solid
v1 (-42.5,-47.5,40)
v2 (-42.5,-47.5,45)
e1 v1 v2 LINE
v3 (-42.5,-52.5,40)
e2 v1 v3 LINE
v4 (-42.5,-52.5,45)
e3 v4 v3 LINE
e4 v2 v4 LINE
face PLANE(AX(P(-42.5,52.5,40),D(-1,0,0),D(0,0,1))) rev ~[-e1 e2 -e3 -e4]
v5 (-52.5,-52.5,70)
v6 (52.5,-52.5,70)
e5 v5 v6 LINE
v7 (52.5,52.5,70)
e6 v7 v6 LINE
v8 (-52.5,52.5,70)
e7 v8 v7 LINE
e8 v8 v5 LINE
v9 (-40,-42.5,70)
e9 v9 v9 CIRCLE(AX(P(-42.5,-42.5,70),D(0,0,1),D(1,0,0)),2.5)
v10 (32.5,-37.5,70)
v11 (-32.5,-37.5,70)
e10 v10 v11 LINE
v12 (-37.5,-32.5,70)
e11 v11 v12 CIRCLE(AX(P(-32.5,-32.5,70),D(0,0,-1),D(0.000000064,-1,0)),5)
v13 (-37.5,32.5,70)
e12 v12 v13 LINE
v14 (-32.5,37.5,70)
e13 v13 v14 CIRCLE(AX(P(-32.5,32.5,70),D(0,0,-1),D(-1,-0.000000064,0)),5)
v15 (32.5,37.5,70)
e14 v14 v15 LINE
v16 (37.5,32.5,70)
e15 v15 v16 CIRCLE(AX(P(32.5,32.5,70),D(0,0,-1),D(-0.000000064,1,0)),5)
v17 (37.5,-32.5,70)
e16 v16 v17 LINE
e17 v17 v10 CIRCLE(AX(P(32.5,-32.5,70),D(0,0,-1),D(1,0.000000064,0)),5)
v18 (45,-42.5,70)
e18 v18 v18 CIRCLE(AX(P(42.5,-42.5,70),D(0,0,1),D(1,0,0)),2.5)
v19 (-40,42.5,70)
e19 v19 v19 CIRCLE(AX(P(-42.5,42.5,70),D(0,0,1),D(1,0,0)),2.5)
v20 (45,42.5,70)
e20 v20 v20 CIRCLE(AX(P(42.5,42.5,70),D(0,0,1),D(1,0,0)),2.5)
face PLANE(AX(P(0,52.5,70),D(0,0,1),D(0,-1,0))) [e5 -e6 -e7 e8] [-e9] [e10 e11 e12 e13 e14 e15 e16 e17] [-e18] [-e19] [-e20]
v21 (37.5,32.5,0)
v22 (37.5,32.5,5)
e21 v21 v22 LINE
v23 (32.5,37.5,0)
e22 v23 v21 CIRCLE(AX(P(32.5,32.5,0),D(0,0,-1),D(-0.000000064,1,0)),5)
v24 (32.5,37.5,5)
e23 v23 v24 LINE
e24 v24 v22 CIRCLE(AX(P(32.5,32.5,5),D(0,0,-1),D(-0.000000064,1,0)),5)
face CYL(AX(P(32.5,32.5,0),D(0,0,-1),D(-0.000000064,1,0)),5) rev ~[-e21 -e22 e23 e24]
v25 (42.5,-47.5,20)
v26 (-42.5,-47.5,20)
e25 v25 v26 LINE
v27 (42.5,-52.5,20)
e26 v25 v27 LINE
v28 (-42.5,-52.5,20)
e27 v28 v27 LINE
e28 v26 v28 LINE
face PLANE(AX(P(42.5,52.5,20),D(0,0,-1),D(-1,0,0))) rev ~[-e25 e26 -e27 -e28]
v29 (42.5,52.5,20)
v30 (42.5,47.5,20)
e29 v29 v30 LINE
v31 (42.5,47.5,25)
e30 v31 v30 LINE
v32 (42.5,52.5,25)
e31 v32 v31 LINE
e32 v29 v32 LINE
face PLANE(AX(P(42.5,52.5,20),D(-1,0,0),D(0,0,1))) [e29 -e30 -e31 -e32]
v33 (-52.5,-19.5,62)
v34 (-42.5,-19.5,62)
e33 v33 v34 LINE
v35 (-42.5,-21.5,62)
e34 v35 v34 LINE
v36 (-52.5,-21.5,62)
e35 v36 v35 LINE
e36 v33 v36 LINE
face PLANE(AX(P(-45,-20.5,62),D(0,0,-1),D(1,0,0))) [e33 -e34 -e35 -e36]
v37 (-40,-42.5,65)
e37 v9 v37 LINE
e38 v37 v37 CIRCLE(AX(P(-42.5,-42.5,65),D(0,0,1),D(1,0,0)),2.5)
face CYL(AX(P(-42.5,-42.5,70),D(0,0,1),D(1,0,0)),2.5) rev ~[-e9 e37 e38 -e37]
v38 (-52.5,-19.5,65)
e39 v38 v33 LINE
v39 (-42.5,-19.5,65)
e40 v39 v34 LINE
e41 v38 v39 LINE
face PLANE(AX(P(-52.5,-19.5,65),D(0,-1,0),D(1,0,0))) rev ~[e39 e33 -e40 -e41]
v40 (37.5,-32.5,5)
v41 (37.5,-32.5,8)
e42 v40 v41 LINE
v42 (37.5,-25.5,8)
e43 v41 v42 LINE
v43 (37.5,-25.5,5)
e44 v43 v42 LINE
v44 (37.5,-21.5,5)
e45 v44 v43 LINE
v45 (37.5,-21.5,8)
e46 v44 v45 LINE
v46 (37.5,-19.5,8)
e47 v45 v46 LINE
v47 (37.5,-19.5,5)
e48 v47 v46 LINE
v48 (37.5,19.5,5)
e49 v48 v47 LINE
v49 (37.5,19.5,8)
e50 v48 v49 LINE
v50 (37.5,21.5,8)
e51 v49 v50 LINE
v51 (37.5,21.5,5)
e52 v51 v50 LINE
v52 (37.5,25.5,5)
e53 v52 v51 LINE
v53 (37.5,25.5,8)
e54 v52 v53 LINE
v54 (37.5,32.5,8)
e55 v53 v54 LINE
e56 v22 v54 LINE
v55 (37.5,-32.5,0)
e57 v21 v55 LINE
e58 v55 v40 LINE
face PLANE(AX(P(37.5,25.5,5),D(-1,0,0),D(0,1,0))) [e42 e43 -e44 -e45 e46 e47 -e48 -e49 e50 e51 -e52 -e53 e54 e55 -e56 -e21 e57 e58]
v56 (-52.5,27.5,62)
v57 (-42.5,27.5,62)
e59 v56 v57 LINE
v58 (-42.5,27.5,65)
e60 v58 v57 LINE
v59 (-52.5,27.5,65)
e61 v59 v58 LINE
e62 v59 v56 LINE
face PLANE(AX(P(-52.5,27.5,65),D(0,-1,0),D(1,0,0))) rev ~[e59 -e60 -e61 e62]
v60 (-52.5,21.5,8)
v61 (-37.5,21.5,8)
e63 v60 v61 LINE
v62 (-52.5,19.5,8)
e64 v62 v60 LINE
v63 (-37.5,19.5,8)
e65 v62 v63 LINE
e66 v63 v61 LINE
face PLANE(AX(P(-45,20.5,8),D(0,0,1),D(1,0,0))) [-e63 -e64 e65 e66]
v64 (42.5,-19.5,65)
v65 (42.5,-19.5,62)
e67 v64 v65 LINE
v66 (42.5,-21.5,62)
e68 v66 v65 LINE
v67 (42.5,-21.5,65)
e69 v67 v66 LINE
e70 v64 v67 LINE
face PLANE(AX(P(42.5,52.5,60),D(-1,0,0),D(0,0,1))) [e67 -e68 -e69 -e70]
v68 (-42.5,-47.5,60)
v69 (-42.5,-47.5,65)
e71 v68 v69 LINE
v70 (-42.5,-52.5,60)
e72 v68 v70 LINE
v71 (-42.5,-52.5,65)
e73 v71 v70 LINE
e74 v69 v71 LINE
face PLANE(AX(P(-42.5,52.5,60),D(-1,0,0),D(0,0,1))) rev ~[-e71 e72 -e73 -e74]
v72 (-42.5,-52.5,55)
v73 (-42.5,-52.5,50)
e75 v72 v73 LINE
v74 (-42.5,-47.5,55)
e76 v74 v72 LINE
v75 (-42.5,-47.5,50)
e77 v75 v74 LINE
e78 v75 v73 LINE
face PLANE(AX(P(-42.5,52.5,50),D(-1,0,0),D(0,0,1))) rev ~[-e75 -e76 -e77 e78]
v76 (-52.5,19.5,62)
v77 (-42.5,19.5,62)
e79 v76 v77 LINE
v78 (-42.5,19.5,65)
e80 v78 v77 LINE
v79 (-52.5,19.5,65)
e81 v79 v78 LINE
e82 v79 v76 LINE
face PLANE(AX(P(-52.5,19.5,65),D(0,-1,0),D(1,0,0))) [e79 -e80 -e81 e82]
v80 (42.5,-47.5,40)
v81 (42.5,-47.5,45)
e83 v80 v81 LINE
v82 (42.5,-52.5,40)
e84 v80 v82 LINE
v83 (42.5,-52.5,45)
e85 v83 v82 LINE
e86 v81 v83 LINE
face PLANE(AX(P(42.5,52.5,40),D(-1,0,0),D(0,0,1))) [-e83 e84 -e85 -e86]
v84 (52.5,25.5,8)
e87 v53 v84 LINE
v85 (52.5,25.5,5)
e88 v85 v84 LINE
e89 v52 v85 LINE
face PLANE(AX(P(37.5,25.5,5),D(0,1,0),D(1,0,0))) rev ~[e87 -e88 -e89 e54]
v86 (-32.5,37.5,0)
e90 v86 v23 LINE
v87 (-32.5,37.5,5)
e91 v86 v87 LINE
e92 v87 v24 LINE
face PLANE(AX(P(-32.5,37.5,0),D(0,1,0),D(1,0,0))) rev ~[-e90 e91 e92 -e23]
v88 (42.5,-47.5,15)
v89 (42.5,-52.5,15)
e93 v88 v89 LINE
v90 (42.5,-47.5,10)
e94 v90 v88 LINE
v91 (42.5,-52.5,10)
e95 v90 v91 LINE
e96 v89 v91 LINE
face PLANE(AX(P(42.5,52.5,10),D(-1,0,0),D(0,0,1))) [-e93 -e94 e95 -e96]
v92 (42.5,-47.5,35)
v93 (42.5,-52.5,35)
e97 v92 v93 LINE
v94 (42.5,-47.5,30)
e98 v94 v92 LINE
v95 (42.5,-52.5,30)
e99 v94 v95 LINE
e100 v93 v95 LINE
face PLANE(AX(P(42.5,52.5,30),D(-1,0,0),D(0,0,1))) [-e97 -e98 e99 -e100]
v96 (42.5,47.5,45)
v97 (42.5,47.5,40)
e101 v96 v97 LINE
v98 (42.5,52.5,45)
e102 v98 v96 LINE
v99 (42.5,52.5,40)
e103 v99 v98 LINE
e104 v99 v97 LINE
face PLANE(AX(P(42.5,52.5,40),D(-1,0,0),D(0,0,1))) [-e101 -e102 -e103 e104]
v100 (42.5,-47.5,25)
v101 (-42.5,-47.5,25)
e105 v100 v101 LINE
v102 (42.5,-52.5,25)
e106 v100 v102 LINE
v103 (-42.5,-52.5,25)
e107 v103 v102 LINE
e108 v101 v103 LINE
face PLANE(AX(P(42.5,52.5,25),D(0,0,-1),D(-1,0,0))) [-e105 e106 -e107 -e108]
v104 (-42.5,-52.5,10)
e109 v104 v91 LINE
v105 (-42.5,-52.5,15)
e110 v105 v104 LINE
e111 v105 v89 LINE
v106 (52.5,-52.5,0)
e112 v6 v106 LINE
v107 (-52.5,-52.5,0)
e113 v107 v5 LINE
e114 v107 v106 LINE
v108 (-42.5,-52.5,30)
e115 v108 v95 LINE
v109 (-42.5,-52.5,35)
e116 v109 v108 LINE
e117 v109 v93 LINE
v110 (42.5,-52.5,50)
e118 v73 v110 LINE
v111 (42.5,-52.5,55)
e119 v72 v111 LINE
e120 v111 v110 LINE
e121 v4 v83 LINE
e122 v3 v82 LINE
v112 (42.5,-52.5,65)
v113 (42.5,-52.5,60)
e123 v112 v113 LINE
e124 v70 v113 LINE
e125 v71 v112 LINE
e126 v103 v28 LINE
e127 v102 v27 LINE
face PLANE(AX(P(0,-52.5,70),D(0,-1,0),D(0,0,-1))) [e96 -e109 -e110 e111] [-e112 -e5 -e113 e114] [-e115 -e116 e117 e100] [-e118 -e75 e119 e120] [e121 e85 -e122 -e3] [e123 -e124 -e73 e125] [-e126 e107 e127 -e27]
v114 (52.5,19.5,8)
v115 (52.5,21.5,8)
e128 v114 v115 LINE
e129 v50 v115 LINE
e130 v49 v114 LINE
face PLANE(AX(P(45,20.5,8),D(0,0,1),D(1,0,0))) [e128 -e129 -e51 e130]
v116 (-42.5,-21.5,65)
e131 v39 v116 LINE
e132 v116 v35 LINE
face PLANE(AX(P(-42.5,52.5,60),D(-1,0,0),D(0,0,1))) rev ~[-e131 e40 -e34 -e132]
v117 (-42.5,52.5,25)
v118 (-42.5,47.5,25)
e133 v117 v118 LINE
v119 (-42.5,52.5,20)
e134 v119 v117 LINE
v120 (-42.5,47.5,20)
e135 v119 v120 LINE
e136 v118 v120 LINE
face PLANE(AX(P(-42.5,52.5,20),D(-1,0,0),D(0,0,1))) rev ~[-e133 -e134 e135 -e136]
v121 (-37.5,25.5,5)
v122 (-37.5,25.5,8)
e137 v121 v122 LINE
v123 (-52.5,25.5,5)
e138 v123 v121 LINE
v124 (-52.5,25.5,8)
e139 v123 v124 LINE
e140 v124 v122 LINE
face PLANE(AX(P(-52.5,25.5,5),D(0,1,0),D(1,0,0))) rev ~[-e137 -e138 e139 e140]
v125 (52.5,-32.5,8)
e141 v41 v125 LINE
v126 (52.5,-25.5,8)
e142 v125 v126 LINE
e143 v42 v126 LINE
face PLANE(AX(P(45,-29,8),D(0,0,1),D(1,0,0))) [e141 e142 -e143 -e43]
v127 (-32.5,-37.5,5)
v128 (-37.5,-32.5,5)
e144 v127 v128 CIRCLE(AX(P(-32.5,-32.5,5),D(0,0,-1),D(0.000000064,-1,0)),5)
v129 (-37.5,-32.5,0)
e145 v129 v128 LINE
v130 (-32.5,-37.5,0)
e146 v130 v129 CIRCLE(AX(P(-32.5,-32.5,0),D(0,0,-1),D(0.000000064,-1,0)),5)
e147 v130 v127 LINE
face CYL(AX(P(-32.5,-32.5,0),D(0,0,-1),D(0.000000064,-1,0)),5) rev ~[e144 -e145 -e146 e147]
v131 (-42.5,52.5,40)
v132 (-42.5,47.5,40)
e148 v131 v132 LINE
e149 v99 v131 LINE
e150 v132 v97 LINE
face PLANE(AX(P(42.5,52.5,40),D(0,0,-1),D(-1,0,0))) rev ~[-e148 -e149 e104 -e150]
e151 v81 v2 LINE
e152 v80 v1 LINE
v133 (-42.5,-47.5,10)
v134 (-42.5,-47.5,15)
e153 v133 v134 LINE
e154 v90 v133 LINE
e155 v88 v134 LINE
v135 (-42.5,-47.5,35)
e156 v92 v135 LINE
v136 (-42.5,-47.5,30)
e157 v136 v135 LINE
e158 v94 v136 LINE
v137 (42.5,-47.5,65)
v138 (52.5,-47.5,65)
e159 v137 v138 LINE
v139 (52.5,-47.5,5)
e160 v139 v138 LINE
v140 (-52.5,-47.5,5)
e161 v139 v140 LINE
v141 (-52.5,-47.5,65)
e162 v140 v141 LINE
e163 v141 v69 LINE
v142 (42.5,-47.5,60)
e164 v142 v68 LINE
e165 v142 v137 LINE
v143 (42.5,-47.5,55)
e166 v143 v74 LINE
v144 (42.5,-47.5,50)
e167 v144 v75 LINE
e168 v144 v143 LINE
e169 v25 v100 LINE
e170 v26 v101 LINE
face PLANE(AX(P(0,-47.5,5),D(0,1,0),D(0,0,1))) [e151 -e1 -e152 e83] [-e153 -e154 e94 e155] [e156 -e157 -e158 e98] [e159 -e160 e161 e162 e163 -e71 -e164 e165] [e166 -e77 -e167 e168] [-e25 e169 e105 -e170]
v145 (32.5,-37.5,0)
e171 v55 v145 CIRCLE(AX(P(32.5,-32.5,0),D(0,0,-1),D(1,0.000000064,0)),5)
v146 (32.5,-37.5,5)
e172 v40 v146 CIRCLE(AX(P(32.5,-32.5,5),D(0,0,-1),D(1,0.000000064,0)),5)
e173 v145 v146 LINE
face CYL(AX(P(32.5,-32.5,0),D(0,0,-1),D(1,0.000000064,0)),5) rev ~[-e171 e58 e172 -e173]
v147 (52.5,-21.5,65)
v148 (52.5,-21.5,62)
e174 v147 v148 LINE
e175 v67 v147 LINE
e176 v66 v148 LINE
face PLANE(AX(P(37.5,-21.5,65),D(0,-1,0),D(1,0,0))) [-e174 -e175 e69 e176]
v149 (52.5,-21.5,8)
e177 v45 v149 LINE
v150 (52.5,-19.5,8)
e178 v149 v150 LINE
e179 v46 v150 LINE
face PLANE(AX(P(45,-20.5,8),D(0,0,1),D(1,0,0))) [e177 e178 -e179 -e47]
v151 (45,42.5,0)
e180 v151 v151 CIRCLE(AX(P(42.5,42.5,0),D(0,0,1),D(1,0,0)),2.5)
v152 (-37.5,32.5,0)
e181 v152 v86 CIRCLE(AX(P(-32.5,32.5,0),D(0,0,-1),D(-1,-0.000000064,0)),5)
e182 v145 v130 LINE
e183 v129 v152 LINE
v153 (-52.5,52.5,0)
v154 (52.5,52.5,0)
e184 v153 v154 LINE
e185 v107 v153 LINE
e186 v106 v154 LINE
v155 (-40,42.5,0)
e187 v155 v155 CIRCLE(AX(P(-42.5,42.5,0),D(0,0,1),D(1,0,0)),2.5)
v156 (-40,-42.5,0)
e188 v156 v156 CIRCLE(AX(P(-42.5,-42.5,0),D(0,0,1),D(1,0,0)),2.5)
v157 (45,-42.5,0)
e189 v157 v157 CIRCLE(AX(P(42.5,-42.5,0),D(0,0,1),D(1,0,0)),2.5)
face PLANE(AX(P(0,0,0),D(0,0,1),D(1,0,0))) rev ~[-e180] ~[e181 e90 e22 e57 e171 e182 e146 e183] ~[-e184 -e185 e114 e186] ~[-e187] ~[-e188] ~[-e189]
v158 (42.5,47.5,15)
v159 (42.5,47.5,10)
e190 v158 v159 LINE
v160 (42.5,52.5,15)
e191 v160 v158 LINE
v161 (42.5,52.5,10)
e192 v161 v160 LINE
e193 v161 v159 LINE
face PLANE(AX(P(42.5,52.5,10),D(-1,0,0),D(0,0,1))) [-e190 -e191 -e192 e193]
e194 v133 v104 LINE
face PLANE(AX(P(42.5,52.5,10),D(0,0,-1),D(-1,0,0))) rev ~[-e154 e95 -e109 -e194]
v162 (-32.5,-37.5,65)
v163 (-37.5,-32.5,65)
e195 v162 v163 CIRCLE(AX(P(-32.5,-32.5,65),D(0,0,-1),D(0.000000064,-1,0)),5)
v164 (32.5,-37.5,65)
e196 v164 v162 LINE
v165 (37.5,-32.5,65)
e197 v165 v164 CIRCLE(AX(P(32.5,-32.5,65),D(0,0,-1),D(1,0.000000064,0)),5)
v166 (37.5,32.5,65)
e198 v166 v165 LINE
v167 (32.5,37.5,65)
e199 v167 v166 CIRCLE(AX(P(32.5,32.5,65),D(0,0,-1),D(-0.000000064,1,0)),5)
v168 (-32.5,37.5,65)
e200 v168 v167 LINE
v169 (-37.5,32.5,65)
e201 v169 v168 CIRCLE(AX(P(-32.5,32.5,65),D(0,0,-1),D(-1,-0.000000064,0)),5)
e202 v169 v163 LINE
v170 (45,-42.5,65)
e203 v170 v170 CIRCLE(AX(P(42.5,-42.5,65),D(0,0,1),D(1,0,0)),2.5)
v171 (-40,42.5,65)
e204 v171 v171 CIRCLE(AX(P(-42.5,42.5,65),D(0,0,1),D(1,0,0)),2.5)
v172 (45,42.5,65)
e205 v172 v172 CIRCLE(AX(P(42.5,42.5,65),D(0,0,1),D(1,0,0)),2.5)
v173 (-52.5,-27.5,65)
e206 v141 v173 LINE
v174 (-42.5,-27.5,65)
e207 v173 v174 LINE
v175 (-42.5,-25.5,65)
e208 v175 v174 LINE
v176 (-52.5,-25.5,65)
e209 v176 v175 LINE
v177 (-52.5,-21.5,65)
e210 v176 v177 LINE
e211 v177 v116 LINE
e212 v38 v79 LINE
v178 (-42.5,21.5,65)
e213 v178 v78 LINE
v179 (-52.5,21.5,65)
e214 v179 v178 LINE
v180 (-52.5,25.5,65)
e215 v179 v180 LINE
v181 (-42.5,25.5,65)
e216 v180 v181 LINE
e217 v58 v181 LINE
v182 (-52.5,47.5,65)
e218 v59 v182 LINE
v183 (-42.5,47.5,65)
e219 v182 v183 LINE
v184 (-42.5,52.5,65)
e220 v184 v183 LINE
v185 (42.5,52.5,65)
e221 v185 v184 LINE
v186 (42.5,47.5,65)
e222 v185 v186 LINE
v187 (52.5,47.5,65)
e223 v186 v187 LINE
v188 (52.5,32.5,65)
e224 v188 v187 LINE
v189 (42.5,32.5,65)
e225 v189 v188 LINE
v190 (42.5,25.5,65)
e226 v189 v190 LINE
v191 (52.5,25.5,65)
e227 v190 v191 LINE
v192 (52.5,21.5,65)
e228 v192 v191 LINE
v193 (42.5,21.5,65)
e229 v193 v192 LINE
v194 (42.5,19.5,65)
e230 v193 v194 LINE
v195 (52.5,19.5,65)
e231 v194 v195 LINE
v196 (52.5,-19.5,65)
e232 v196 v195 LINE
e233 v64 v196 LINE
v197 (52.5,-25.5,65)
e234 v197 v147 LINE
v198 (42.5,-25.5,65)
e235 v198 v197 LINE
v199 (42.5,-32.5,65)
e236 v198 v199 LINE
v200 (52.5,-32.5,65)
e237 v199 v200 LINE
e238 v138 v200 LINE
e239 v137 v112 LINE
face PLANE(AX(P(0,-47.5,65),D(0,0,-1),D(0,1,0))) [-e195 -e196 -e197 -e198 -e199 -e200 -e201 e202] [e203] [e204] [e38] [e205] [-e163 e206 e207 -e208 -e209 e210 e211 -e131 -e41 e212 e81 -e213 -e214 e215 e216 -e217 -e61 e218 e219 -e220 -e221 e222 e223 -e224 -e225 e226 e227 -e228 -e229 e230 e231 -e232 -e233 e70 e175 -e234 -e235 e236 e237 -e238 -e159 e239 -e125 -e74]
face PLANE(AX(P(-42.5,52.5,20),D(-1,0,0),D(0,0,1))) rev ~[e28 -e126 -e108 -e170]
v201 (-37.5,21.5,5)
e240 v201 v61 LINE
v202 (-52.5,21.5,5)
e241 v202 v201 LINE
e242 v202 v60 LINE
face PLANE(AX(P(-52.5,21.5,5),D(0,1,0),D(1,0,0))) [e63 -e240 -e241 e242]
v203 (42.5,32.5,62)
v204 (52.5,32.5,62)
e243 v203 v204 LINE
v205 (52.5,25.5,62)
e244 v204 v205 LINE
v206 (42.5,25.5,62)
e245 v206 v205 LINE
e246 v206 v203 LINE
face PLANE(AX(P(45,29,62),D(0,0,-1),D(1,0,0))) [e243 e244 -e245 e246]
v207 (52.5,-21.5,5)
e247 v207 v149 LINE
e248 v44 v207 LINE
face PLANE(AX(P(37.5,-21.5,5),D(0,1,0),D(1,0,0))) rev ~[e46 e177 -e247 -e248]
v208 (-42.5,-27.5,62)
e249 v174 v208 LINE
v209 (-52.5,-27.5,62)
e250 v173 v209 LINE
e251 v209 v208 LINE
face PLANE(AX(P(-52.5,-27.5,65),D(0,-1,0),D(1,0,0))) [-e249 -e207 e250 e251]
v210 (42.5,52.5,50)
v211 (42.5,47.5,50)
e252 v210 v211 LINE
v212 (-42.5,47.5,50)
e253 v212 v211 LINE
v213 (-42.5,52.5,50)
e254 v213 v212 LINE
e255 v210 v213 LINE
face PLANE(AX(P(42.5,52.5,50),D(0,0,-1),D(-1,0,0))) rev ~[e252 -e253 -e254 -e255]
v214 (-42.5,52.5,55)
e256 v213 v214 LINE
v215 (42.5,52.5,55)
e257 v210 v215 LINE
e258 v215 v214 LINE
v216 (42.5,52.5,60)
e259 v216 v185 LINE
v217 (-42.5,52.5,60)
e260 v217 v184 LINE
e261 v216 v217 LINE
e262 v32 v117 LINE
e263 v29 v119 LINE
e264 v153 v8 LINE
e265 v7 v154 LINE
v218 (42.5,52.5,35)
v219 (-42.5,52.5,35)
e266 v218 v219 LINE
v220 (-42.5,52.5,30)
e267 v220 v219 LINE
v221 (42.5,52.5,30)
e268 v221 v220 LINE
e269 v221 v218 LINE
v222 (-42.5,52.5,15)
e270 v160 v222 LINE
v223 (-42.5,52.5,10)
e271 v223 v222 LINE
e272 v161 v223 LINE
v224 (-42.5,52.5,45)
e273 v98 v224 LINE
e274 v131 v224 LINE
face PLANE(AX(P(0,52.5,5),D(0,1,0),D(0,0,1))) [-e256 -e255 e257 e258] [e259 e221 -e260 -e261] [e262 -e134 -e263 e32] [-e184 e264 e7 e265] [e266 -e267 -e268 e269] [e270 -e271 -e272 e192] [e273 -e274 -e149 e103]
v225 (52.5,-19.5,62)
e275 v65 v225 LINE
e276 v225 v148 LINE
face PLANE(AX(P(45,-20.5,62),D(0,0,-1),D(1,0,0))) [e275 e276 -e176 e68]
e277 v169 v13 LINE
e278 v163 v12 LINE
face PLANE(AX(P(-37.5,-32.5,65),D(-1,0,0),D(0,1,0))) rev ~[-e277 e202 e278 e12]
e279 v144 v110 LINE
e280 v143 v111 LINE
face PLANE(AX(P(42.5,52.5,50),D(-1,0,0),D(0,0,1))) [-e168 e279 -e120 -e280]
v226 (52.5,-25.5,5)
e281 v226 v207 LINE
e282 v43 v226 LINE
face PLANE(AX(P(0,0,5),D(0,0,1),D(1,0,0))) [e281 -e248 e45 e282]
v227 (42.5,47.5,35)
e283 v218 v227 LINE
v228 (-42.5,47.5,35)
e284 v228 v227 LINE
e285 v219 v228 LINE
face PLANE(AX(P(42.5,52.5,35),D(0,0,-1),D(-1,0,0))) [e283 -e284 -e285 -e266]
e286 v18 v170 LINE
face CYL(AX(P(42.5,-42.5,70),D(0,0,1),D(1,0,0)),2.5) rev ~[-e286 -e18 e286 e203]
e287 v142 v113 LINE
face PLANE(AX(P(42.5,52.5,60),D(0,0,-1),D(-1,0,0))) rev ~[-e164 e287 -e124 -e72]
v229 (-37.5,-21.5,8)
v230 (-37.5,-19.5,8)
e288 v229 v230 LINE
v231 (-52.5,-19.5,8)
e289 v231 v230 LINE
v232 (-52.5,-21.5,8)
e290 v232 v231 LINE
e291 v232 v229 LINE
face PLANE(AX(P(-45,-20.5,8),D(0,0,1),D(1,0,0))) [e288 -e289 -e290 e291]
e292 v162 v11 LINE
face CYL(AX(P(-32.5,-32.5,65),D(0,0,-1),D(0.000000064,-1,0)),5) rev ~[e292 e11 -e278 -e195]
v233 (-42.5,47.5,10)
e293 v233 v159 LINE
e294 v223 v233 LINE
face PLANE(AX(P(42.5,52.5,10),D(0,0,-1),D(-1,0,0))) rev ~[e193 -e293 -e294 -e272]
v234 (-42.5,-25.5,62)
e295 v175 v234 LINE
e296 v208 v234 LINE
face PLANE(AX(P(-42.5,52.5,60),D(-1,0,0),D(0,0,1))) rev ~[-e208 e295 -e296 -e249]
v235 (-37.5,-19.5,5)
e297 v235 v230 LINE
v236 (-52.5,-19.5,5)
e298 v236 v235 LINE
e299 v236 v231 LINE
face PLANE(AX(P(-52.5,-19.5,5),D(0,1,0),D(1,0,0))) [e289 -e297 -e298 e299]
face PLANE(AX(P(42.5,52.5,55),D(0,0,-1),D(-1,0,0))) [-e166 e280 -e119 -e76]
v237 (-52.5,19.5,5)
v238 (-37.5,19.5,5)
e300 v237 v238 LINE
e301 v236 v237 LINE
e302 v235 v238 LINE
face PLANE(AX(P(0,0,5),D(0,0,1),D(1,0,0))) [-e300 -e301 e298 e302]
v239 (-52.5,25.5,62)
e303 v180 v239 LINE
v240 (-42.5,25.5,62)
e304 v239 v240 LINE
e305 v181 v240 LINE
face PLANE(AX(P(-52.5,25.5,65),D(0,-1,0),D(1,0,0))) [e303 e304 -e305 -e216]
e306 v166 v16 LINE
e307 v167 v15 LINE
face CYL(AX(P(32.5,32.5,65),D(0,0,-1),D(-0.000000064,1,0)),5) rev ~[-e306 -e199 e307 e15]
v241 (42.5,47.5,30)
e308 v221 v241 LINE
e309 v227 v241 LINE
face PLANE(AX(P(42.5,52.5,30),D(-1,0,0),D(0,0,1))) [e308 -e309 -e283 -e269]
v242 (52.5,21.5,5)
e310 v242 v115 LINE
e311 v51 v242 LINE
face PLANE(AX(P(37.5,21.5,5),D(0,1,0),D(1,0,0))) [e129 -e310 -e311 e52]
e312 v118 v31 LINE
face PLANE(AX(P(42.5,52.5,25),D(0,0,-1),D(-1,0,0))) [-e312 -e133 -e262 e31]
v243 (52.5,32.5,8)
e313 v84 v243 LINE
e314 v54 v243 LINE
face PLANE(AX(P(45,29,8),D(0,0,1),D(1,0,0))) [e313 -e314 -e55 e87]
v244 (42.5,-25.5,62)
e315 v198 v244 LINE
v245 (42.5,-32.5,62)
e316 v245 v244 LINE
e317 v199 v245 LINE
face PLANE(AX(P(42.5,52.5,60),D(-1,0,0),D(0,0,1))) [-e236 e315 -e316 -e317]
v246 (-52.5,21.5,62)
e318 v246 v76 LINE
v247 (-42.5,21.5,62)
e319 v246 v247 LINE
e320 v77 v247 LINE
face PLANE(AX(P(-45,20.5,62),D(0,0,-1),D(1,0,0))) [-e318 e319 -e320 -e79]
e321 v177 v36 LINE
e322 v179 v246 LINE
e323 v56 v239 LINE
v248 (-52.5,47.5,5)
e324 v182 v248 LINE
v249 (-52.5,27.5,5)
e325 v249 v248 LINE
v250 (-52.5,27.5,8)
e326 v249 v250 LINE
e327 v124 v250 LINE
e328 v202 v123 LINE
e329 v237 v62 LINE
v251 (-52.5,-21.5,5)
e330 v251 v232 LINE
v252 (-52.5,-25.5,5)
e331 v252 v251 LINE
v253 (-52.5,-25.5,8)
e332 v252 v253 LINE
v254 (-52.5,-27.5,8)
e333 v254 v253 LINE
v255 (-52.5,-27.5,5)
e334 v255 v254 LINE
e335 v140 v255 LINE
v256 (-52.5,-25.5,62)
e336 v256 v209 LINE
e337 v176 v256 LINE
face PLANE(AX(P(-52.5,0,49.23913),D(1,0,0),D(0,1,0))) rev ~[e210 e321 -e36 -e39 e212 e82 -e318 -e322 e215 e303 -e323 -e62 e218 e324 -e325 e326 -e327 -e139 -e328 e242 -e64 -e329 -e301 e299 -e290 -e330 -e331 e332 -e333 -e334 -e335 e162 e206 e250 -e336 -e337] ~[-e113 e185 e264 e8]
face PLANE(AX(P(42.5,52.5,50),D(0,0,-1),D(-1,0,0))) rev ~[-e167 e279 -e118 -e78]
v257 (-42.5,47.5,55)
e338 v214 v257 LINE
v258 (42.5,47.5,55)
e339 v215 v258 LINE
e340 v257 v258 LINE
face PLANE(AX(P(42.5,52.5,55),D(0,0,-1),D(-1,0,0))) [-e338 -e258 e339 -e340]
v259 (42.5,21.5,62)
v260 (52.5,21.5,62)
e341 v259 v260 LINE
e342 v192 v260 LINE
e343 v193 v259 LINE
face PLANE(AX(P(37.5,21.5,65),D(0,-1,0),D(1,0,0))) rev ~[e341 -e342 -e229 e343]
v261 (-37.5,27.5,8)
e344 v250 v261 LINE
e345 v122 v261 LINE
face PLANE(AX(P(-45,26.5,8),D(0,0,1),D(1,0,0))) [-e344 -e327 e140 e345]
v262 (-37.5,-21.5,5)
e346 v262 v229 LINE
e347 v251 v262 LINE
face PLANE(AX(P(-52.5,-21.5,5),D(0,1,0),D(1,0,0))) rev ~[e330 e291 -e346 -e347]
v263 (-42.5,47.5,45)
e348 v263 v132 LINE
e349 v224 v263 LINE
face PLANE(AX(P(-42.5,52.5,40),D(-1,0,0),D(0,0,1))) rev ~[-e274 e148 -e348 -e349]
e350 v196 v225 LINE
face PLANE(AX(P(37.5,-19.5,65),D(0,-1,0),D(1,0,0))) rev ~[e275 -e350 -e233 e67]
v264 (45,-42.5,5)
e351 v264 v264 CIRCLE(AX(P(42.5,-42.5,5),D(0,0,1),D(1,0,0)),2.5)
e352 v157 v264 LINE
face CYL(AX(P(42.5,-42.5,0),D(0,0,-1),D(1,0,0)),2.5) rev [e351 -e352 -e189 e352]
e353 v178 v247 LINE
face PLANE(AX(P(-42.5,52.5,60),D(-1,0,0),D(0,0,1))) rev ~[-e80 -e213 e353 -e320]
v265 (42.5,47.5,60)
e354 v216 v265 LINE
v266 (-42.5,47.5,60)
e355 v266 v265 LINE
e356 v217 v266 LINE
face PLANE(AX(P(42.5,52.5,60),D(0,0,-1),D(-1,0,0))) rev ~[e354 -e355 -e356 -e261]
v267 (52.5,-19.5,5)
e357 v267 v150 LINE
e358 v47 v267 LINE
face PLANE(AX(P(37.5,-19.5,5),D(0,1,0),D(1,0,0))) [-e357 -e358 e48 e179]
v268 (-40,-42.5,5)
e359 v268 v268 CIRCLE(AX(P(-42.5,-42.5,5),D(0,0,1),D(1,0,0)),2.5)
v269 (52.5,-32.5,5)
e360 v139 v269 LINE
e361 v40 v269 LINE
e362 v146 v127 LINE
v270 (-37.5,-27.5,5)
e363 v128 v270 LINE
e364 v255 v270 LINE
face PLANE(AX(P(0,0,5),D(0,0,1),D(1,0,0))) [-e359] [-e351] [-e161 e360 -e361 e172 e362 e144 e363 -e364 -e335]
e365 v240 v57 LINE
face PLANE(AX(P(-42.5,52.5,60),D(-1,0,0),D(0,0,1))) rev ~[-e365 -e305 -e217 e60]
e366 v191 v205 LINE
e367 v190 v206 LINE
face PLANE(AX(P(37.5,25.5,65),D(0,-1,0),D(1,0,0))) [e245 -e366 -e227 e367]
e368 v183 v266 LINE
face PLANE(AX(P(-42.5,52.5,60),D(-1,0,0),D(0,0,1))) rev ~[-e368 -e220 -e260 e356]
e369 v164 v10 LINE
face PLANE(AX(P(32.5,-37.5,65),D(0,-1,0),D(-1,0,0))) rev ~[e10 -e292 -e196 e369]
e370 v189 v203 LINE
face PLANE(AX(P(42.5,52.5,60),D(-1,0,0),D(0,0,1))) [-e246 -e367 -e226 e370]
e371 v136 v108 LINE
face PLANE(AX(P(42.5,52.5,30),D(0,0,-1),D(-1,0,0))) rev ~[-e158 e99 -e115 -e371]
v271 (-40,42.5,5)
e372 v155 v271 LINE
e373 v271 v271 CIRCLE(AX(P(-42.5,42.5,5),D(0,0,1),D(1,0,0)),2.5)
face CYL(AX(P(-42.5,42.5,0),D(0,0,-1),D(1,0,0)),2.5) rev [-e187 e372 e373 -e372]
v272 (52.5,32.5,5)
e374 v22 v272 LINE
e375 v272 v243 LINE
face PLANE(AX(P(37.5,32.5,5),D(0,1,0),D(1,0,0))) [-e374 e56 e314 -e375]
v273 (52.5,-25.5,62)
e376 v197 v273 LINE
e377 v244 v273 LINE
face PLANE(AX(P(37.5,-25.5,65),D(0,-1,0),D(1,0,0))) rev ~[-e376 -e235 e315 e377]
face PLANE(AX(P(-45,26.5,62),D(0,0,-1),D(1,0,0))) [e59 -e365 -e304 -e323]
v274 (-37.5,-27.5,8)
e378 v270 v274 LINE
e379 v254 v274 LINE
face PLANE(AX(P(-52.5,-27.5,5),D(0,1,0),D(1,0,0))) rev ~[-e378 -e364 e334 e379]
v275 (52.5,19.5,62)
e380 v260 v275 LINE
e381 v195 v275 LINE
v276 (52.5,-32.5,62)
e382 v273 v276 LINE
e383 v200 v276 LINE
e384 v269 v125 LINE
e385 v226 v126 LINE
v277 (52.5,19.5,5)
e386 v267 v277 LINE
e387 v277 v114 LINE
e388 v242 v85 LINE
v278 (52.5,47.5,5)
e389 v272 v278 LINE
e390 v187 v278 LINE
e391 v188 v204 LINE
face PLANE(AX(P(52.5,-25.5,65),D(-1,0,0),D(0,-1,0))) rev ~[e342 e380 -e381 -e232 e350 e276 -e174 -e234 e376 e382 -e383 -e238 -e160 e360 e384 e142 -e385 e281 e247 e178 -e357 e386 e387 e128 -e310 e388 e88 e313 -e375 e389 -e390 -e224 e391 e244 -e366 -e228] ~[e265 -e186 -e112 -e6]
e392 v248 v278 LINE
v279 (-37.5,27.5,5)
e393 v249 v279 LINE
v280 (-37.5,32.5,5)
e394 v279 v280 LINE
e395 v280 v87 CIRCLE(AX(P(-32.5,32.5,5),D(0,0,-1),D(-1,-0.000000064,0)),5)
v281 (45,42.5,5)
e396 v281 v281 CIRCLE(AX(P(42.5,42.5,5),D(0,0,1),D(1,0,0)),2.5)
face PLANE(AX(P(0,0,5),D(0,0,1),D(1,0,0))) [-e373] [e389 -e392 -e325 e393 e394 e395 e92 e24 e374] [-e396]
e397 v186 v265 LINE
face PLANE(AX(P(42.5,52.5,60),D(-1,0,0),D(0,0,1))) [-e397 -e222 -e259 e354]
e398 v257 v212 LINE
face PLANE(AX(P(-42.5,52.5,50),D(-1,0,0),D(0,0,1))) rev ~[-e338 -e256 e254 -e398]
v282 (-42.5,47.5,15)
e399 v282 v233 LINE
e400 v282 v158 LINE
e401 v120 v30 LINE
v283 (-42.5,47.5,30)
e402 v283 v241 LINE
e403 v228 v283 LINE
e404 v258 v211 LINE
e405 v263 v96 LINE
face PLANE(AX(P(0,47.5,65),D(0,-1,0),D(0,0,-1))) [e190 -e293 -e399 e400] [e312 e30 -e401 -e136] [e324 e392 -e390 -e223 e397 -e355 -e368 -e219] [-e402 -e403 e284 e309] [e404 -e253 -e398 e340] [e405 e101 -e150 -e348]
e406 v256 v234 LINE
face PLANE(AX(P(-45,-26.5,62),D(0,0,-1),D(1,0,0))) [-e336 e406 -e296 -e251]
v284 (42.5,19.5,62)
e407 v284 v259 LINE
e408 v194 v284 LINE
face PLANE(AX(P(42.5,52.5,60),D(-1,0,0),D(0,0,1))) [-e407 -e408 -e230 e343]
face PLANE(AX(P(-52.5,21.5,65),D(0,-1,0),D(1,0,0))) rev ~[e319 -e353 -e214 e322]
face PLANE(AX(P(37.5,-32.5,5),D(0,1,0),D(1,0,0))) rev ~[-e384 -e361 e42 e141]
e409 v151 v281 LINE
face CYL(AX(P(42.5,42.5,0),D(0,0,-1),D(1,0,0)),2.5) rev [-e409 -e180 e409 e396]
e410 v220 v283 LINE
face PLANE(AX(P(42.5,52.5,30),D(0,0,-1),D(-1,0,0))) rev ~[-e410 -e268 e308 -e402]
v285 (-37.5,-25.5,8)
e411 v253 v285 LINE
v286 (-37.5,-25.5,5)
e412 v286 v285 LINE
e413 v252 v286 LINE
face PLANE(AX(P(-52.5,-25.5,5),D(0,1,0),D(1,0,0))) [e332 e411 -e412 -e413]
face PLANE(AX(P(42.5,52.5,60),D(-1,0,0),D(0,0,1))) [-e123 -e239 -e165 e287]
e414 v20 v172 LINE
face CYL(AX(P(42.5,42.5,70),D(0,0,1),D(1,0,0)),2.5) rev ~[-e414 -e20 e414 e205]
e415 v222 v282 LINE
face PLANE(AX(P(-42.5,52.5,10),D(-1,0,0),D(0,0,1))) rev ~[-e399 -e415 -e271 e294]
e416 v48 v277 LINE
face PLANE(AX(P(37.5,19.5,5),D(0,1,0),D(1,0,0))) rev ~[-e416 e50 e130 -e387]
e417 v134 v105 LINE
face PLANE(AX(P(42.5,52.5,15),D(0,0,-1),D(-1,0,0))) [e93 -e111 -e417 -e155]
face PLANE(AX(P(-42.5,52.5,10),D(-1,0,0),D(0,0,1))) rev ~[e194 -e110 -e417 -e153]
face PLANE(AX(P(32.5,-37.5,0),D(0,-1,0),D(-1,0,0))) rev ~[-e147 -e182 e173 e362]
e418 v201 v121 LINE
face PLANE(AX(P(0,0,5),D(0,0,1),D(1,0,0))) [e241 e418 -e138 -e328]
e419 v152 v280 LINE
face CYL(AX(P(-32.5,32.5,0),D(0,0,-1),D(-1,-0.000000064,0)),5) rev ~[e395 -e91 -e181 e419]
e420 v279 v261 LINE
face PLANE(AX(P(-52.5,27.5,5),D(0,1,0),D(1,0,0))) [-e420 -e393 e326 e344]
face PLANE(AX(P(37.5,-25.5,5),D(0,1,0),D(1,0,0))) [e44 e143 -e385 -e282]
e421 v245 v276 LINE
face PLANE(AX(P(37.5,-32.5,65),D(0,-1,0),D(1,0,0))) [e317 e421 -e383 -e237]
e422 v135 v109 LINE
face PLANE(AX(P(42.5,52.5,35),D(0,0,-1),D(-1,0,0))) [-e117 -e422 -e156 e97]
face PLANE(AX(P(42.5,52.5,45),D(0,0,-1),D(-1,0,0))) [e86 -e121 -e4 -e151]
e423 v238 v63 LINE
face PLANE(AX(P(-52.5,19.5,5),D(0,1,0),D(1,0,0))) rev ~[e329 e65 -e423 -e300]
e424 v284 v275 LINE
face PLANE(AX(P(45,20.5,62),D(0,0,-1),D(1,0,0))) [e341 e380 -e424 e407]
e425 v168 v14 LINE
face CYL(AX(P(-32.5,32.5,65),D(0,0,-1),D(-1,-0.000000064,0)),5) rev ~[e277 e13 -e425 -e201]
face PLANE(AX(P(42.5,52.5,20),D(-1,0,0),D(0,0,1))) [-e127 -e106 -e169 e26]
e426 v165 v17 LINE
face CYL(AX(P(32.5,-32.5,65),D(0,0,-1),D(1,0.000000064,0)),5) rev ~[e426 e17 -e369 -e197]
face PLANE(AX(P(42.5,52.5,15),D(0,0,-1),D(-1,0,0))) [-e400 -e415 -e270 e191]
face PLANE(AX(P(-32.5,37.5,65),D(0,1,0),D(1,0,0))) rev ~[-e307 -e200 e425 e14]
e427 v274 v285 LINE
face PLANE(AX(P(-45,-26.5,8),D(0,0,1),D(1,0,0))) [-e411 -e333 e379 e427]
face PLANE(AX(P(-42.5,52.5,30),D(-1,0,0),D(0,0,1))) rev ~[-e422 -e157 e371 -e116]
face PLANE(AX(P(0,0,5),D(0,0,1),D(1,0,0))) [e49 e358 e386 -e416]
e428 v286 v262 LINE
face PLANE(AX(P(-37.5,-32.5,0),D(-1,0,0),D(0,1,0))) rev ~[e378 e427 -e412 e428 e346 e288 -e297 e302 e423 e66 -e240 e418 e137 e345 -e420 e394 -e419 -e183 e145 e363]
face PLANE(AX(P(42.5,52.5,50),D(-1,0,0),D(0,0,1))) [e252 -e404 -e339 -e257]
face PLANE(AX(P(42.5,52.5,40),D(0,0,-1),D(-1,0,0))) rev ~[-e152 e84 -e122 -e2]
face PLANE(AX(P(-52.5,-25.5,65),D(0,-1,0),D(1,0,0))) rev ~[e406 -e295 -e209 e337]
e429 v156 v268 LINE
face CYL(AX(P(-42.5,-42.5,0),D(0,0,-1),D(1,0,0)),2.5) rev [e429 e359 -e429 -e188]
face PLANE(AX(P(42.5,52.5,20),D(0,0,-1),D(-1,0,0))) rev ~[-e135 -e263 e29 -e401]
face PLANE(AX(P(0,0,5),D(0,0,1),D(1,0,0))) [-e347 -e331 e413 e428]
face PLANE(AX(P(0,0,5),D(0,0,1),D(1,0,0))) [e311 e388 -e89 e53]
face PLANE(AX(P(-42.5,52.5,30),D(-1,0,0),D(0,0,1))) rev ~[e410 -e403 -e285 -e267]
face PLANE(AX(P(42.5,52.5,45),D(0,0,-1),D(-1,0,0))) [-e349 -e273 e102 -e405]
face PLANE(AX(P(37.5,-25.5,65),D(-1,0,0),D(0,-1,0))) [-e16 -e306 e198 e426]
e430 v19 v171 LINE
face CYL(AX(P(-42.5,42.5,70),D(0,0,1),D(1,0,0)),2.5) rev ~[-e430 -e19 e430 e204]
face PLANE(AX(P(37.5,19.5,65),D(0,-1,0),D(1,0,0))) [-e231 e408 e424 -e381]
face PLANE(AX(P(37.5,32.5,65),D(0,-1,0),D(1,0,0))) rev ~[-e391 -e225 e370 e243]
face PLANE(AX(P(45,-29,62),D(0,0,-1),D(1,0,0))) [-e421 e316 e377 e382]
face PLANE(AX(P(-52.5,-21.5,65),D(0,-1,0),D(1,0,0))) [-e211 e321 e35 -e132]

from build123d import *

# Parameters (mm, degrees)
F0_W          = 105
F0_H          = 105
F0_R          = 2.5
F1_DEPTH      = 5
F2_W          = 15
F2_H          = 2
F2_H_2        = 7
F3_DEPTH      = 3
F5_DEPTH      = 52.5
F5_DEPTH_BACK = 52.5
F7_DEPTH      = 5
F8_W          = 15
F8_H          = 2
F8_H_2        = 7
F9_DEPTH      = 3
F10_W         = 85
F10_H         = 5
F11_DEPTH     = 105.001
F12_R         = 2.5
F13_DEPTH     = 25


with BuildPart() as f1:
    # F0 (on Top) → F1 (new body)
    with BuildSketch(Plane.XY):
        Rectangle(F0_W, F0_H)
        with Locations((-42.5, -42.5)):
            Circle(F0_R, mode=Mode.SUBTRACT)
        with Locations((42.5, -42.5)):
            Circle(F0_R, mode=Mode.SUBTRACT)
        with Locations((-42.5, 42.5)):
            Circle(F0_R, mode=Mode.SUBTRACT)
        with BuildLine():
            ThreePointArc((-37.5, 32.5), (-36.035534, 36.035534), (-32.5, 37.5))
            Line((-32.5, 37.5), (32.5, 37.5))
            ThreePointArc((32.5, 37.5), (36.035534, 36.035534), (37.5, 32.5))
            Line((37.5, 32.5), (37.5, -32.5))
            ThreePointArc((37.5, -32.5), (36.035534, -36.035534), (32.5, -37.5))
            Line((32.5, -37.5), (-32.5, -37.5))
            ThreePointArc((-32.5, -37.5), (-36.035534, -36.035534), (-37.5, -32.5))
            Line((-37.5, -32.5), (-37.5, 32.5))
        make_face(mode=Mode.SUBTRACT)
        with Locations((42.5, 42.5)):
            Circle(F0_R, mode=Mode.SUBTRACT)
    extrude(amount=F1_DEPTH)

    # F2 (on face) → F3 (join)
    with BuildSketch(Plane.XY.offset(5)):
        with Locations((-45, 26.5)):
            Rectangle(F2_W, F2_H)
        with Locations((-45, 20.5)):
            Rectangle(F2_W, F2_H)
        with Locations((45, 20.5)):
            Rectangle(F2_W, F2_H)
        with Locations((45, 29)):
            Rectangle(F2_W, F2_H_2)
        with Locations((45, -20.5)):
            Rectangle(F2_W, F2_H)
        with Locations((45, -29)):
            Rectangle(F2_W, F2_H_2)
        with Locations((-45, -26.5)):
            Rectangle(F2_W, F2_H)
        with Locations((-45, -20.5)):
            Rectangle(F2_W, F2_H)
    extrude(amount=F3_DEPTH)

    # F4 (on Right) → F5 (join, two sides)
    with BuildSketch(Plane.YZ) as f5_sk:
        Polygon((47.5, 5), (52.5, 5), (52.5, 70), (-52.5, 70), (-52.5, 5), (-47.5, 5), (-47.5, 65), (47.5, 65), align=None)
    extrude(amount=F5_DEPTH)
    extrude(f5_sk.sketch, amount=-F5_DEPTH_BACK)

    # F6 (on face) → F7 (cut, through all)
    with BuildSketch(Plane(origin=(0, 0, 65), x_dir=(1, 0, 0), z_dir=(0, 0, -1))):
        with BuildLine():
            ThreePointArc((-37.5, -32.5), (-36.035534, -36.035534), (-32.5, -37.5))
            Line((-32.5, -37.5), (32.5, -37.5))
            ThreePointArc((32.5, -37.5), (36.035534, -36.035534), (37.5, -32.5))
            Line((37.5, -32.5), (37.5, 32.5))
            ThreePointArc((37.5, 32.5), (36.035534, 36.035534), (32.5, 37.5))
            Line((32.5, 37.5), (-32.5, 37.5))
            ThreePointArc((-32.5, 37.5), (-36.035534, 36.035534), (-37.5, 32.5))
            Line((-37.5, 32.5), (-37.5, -32.5))
        make_face()
    extrude(amount=-F7_DEPTH, mode=Mode.SUBTRACT)

    # F8 (on face) → F9 (join)
    with BuildSketch(Plane(origin=(0, 0, 65), x_dir=(1, 0, 0), z_dir=(0, 0, -1))):
        with Locations((-45, -26.5)):
            Rectangle(F8_W, F8_H)
        with Locations((-45, -20.5)):
            Rectangle(F8_W, F8_H)
        with Locations((-45, 20.5)):
            Rectangle(F8_W, F8_H)
        with Locations((-45, 26.5)):
            Rectangle(F8_W, F8_H)
        with Locations((45, 29)):
            Rectangle(F8_W, F8_H_2)
        with Locations((45, 20.5)):
            Rectangle(F8_W, F8_H)
        with Locations((45, -29)):
            Rectangle(F8_W, F8_H_2)
        with Locations((45, -20.5)):
            Rectangle(F8_W, F8_H)
    extrude(amount=F9_DEPTH)

    # F10 (on face) → F11 (cut, through all)
    with BuildSketch(Plane(origin=(0, 52.5, 0), x_dir=(-1, 0, 0), z_dir=(0, 1, 0))):
        with Locations((0, 12.5)):
            Rectangle(F10_W, F10_H)
        with Locations((0, 22.5)):
            Rectangle(F10_W, F10_H)
        with Locations((0, 32.5)):
            Rectangle(F10_W, F10_H)
        with Locations((0, 42.5)):
            Rectangle(F10_W, F10_H)
        with Locations((0, 52.5)):
            Rectangle(F10_W, F10_H)
        with Locations((0, 62.5)):
            Rectangle(F10_W, F10_H)
    extrude(amount=-F11_DEPTH, mode=Mode.SUBTRACT)

    # F12 (on face) → F13 (cut)
    with BuildSketch(Plane.XY.offset(70)):
        with Locations((42.5, -42.5)):
            Circle(F12_R)
        with Locations((-42.5, -42.5)):
            Circle(F12_R)
        with Locations((-42.5, 42.5)):
            Circle(F12_R)
        with Locations((42.5, 42.5)):
            Circle(F12_R)
    extrude(amount=-F13_DEPTH, mode=Mode.SUBTRACT)


solid = f1.part
